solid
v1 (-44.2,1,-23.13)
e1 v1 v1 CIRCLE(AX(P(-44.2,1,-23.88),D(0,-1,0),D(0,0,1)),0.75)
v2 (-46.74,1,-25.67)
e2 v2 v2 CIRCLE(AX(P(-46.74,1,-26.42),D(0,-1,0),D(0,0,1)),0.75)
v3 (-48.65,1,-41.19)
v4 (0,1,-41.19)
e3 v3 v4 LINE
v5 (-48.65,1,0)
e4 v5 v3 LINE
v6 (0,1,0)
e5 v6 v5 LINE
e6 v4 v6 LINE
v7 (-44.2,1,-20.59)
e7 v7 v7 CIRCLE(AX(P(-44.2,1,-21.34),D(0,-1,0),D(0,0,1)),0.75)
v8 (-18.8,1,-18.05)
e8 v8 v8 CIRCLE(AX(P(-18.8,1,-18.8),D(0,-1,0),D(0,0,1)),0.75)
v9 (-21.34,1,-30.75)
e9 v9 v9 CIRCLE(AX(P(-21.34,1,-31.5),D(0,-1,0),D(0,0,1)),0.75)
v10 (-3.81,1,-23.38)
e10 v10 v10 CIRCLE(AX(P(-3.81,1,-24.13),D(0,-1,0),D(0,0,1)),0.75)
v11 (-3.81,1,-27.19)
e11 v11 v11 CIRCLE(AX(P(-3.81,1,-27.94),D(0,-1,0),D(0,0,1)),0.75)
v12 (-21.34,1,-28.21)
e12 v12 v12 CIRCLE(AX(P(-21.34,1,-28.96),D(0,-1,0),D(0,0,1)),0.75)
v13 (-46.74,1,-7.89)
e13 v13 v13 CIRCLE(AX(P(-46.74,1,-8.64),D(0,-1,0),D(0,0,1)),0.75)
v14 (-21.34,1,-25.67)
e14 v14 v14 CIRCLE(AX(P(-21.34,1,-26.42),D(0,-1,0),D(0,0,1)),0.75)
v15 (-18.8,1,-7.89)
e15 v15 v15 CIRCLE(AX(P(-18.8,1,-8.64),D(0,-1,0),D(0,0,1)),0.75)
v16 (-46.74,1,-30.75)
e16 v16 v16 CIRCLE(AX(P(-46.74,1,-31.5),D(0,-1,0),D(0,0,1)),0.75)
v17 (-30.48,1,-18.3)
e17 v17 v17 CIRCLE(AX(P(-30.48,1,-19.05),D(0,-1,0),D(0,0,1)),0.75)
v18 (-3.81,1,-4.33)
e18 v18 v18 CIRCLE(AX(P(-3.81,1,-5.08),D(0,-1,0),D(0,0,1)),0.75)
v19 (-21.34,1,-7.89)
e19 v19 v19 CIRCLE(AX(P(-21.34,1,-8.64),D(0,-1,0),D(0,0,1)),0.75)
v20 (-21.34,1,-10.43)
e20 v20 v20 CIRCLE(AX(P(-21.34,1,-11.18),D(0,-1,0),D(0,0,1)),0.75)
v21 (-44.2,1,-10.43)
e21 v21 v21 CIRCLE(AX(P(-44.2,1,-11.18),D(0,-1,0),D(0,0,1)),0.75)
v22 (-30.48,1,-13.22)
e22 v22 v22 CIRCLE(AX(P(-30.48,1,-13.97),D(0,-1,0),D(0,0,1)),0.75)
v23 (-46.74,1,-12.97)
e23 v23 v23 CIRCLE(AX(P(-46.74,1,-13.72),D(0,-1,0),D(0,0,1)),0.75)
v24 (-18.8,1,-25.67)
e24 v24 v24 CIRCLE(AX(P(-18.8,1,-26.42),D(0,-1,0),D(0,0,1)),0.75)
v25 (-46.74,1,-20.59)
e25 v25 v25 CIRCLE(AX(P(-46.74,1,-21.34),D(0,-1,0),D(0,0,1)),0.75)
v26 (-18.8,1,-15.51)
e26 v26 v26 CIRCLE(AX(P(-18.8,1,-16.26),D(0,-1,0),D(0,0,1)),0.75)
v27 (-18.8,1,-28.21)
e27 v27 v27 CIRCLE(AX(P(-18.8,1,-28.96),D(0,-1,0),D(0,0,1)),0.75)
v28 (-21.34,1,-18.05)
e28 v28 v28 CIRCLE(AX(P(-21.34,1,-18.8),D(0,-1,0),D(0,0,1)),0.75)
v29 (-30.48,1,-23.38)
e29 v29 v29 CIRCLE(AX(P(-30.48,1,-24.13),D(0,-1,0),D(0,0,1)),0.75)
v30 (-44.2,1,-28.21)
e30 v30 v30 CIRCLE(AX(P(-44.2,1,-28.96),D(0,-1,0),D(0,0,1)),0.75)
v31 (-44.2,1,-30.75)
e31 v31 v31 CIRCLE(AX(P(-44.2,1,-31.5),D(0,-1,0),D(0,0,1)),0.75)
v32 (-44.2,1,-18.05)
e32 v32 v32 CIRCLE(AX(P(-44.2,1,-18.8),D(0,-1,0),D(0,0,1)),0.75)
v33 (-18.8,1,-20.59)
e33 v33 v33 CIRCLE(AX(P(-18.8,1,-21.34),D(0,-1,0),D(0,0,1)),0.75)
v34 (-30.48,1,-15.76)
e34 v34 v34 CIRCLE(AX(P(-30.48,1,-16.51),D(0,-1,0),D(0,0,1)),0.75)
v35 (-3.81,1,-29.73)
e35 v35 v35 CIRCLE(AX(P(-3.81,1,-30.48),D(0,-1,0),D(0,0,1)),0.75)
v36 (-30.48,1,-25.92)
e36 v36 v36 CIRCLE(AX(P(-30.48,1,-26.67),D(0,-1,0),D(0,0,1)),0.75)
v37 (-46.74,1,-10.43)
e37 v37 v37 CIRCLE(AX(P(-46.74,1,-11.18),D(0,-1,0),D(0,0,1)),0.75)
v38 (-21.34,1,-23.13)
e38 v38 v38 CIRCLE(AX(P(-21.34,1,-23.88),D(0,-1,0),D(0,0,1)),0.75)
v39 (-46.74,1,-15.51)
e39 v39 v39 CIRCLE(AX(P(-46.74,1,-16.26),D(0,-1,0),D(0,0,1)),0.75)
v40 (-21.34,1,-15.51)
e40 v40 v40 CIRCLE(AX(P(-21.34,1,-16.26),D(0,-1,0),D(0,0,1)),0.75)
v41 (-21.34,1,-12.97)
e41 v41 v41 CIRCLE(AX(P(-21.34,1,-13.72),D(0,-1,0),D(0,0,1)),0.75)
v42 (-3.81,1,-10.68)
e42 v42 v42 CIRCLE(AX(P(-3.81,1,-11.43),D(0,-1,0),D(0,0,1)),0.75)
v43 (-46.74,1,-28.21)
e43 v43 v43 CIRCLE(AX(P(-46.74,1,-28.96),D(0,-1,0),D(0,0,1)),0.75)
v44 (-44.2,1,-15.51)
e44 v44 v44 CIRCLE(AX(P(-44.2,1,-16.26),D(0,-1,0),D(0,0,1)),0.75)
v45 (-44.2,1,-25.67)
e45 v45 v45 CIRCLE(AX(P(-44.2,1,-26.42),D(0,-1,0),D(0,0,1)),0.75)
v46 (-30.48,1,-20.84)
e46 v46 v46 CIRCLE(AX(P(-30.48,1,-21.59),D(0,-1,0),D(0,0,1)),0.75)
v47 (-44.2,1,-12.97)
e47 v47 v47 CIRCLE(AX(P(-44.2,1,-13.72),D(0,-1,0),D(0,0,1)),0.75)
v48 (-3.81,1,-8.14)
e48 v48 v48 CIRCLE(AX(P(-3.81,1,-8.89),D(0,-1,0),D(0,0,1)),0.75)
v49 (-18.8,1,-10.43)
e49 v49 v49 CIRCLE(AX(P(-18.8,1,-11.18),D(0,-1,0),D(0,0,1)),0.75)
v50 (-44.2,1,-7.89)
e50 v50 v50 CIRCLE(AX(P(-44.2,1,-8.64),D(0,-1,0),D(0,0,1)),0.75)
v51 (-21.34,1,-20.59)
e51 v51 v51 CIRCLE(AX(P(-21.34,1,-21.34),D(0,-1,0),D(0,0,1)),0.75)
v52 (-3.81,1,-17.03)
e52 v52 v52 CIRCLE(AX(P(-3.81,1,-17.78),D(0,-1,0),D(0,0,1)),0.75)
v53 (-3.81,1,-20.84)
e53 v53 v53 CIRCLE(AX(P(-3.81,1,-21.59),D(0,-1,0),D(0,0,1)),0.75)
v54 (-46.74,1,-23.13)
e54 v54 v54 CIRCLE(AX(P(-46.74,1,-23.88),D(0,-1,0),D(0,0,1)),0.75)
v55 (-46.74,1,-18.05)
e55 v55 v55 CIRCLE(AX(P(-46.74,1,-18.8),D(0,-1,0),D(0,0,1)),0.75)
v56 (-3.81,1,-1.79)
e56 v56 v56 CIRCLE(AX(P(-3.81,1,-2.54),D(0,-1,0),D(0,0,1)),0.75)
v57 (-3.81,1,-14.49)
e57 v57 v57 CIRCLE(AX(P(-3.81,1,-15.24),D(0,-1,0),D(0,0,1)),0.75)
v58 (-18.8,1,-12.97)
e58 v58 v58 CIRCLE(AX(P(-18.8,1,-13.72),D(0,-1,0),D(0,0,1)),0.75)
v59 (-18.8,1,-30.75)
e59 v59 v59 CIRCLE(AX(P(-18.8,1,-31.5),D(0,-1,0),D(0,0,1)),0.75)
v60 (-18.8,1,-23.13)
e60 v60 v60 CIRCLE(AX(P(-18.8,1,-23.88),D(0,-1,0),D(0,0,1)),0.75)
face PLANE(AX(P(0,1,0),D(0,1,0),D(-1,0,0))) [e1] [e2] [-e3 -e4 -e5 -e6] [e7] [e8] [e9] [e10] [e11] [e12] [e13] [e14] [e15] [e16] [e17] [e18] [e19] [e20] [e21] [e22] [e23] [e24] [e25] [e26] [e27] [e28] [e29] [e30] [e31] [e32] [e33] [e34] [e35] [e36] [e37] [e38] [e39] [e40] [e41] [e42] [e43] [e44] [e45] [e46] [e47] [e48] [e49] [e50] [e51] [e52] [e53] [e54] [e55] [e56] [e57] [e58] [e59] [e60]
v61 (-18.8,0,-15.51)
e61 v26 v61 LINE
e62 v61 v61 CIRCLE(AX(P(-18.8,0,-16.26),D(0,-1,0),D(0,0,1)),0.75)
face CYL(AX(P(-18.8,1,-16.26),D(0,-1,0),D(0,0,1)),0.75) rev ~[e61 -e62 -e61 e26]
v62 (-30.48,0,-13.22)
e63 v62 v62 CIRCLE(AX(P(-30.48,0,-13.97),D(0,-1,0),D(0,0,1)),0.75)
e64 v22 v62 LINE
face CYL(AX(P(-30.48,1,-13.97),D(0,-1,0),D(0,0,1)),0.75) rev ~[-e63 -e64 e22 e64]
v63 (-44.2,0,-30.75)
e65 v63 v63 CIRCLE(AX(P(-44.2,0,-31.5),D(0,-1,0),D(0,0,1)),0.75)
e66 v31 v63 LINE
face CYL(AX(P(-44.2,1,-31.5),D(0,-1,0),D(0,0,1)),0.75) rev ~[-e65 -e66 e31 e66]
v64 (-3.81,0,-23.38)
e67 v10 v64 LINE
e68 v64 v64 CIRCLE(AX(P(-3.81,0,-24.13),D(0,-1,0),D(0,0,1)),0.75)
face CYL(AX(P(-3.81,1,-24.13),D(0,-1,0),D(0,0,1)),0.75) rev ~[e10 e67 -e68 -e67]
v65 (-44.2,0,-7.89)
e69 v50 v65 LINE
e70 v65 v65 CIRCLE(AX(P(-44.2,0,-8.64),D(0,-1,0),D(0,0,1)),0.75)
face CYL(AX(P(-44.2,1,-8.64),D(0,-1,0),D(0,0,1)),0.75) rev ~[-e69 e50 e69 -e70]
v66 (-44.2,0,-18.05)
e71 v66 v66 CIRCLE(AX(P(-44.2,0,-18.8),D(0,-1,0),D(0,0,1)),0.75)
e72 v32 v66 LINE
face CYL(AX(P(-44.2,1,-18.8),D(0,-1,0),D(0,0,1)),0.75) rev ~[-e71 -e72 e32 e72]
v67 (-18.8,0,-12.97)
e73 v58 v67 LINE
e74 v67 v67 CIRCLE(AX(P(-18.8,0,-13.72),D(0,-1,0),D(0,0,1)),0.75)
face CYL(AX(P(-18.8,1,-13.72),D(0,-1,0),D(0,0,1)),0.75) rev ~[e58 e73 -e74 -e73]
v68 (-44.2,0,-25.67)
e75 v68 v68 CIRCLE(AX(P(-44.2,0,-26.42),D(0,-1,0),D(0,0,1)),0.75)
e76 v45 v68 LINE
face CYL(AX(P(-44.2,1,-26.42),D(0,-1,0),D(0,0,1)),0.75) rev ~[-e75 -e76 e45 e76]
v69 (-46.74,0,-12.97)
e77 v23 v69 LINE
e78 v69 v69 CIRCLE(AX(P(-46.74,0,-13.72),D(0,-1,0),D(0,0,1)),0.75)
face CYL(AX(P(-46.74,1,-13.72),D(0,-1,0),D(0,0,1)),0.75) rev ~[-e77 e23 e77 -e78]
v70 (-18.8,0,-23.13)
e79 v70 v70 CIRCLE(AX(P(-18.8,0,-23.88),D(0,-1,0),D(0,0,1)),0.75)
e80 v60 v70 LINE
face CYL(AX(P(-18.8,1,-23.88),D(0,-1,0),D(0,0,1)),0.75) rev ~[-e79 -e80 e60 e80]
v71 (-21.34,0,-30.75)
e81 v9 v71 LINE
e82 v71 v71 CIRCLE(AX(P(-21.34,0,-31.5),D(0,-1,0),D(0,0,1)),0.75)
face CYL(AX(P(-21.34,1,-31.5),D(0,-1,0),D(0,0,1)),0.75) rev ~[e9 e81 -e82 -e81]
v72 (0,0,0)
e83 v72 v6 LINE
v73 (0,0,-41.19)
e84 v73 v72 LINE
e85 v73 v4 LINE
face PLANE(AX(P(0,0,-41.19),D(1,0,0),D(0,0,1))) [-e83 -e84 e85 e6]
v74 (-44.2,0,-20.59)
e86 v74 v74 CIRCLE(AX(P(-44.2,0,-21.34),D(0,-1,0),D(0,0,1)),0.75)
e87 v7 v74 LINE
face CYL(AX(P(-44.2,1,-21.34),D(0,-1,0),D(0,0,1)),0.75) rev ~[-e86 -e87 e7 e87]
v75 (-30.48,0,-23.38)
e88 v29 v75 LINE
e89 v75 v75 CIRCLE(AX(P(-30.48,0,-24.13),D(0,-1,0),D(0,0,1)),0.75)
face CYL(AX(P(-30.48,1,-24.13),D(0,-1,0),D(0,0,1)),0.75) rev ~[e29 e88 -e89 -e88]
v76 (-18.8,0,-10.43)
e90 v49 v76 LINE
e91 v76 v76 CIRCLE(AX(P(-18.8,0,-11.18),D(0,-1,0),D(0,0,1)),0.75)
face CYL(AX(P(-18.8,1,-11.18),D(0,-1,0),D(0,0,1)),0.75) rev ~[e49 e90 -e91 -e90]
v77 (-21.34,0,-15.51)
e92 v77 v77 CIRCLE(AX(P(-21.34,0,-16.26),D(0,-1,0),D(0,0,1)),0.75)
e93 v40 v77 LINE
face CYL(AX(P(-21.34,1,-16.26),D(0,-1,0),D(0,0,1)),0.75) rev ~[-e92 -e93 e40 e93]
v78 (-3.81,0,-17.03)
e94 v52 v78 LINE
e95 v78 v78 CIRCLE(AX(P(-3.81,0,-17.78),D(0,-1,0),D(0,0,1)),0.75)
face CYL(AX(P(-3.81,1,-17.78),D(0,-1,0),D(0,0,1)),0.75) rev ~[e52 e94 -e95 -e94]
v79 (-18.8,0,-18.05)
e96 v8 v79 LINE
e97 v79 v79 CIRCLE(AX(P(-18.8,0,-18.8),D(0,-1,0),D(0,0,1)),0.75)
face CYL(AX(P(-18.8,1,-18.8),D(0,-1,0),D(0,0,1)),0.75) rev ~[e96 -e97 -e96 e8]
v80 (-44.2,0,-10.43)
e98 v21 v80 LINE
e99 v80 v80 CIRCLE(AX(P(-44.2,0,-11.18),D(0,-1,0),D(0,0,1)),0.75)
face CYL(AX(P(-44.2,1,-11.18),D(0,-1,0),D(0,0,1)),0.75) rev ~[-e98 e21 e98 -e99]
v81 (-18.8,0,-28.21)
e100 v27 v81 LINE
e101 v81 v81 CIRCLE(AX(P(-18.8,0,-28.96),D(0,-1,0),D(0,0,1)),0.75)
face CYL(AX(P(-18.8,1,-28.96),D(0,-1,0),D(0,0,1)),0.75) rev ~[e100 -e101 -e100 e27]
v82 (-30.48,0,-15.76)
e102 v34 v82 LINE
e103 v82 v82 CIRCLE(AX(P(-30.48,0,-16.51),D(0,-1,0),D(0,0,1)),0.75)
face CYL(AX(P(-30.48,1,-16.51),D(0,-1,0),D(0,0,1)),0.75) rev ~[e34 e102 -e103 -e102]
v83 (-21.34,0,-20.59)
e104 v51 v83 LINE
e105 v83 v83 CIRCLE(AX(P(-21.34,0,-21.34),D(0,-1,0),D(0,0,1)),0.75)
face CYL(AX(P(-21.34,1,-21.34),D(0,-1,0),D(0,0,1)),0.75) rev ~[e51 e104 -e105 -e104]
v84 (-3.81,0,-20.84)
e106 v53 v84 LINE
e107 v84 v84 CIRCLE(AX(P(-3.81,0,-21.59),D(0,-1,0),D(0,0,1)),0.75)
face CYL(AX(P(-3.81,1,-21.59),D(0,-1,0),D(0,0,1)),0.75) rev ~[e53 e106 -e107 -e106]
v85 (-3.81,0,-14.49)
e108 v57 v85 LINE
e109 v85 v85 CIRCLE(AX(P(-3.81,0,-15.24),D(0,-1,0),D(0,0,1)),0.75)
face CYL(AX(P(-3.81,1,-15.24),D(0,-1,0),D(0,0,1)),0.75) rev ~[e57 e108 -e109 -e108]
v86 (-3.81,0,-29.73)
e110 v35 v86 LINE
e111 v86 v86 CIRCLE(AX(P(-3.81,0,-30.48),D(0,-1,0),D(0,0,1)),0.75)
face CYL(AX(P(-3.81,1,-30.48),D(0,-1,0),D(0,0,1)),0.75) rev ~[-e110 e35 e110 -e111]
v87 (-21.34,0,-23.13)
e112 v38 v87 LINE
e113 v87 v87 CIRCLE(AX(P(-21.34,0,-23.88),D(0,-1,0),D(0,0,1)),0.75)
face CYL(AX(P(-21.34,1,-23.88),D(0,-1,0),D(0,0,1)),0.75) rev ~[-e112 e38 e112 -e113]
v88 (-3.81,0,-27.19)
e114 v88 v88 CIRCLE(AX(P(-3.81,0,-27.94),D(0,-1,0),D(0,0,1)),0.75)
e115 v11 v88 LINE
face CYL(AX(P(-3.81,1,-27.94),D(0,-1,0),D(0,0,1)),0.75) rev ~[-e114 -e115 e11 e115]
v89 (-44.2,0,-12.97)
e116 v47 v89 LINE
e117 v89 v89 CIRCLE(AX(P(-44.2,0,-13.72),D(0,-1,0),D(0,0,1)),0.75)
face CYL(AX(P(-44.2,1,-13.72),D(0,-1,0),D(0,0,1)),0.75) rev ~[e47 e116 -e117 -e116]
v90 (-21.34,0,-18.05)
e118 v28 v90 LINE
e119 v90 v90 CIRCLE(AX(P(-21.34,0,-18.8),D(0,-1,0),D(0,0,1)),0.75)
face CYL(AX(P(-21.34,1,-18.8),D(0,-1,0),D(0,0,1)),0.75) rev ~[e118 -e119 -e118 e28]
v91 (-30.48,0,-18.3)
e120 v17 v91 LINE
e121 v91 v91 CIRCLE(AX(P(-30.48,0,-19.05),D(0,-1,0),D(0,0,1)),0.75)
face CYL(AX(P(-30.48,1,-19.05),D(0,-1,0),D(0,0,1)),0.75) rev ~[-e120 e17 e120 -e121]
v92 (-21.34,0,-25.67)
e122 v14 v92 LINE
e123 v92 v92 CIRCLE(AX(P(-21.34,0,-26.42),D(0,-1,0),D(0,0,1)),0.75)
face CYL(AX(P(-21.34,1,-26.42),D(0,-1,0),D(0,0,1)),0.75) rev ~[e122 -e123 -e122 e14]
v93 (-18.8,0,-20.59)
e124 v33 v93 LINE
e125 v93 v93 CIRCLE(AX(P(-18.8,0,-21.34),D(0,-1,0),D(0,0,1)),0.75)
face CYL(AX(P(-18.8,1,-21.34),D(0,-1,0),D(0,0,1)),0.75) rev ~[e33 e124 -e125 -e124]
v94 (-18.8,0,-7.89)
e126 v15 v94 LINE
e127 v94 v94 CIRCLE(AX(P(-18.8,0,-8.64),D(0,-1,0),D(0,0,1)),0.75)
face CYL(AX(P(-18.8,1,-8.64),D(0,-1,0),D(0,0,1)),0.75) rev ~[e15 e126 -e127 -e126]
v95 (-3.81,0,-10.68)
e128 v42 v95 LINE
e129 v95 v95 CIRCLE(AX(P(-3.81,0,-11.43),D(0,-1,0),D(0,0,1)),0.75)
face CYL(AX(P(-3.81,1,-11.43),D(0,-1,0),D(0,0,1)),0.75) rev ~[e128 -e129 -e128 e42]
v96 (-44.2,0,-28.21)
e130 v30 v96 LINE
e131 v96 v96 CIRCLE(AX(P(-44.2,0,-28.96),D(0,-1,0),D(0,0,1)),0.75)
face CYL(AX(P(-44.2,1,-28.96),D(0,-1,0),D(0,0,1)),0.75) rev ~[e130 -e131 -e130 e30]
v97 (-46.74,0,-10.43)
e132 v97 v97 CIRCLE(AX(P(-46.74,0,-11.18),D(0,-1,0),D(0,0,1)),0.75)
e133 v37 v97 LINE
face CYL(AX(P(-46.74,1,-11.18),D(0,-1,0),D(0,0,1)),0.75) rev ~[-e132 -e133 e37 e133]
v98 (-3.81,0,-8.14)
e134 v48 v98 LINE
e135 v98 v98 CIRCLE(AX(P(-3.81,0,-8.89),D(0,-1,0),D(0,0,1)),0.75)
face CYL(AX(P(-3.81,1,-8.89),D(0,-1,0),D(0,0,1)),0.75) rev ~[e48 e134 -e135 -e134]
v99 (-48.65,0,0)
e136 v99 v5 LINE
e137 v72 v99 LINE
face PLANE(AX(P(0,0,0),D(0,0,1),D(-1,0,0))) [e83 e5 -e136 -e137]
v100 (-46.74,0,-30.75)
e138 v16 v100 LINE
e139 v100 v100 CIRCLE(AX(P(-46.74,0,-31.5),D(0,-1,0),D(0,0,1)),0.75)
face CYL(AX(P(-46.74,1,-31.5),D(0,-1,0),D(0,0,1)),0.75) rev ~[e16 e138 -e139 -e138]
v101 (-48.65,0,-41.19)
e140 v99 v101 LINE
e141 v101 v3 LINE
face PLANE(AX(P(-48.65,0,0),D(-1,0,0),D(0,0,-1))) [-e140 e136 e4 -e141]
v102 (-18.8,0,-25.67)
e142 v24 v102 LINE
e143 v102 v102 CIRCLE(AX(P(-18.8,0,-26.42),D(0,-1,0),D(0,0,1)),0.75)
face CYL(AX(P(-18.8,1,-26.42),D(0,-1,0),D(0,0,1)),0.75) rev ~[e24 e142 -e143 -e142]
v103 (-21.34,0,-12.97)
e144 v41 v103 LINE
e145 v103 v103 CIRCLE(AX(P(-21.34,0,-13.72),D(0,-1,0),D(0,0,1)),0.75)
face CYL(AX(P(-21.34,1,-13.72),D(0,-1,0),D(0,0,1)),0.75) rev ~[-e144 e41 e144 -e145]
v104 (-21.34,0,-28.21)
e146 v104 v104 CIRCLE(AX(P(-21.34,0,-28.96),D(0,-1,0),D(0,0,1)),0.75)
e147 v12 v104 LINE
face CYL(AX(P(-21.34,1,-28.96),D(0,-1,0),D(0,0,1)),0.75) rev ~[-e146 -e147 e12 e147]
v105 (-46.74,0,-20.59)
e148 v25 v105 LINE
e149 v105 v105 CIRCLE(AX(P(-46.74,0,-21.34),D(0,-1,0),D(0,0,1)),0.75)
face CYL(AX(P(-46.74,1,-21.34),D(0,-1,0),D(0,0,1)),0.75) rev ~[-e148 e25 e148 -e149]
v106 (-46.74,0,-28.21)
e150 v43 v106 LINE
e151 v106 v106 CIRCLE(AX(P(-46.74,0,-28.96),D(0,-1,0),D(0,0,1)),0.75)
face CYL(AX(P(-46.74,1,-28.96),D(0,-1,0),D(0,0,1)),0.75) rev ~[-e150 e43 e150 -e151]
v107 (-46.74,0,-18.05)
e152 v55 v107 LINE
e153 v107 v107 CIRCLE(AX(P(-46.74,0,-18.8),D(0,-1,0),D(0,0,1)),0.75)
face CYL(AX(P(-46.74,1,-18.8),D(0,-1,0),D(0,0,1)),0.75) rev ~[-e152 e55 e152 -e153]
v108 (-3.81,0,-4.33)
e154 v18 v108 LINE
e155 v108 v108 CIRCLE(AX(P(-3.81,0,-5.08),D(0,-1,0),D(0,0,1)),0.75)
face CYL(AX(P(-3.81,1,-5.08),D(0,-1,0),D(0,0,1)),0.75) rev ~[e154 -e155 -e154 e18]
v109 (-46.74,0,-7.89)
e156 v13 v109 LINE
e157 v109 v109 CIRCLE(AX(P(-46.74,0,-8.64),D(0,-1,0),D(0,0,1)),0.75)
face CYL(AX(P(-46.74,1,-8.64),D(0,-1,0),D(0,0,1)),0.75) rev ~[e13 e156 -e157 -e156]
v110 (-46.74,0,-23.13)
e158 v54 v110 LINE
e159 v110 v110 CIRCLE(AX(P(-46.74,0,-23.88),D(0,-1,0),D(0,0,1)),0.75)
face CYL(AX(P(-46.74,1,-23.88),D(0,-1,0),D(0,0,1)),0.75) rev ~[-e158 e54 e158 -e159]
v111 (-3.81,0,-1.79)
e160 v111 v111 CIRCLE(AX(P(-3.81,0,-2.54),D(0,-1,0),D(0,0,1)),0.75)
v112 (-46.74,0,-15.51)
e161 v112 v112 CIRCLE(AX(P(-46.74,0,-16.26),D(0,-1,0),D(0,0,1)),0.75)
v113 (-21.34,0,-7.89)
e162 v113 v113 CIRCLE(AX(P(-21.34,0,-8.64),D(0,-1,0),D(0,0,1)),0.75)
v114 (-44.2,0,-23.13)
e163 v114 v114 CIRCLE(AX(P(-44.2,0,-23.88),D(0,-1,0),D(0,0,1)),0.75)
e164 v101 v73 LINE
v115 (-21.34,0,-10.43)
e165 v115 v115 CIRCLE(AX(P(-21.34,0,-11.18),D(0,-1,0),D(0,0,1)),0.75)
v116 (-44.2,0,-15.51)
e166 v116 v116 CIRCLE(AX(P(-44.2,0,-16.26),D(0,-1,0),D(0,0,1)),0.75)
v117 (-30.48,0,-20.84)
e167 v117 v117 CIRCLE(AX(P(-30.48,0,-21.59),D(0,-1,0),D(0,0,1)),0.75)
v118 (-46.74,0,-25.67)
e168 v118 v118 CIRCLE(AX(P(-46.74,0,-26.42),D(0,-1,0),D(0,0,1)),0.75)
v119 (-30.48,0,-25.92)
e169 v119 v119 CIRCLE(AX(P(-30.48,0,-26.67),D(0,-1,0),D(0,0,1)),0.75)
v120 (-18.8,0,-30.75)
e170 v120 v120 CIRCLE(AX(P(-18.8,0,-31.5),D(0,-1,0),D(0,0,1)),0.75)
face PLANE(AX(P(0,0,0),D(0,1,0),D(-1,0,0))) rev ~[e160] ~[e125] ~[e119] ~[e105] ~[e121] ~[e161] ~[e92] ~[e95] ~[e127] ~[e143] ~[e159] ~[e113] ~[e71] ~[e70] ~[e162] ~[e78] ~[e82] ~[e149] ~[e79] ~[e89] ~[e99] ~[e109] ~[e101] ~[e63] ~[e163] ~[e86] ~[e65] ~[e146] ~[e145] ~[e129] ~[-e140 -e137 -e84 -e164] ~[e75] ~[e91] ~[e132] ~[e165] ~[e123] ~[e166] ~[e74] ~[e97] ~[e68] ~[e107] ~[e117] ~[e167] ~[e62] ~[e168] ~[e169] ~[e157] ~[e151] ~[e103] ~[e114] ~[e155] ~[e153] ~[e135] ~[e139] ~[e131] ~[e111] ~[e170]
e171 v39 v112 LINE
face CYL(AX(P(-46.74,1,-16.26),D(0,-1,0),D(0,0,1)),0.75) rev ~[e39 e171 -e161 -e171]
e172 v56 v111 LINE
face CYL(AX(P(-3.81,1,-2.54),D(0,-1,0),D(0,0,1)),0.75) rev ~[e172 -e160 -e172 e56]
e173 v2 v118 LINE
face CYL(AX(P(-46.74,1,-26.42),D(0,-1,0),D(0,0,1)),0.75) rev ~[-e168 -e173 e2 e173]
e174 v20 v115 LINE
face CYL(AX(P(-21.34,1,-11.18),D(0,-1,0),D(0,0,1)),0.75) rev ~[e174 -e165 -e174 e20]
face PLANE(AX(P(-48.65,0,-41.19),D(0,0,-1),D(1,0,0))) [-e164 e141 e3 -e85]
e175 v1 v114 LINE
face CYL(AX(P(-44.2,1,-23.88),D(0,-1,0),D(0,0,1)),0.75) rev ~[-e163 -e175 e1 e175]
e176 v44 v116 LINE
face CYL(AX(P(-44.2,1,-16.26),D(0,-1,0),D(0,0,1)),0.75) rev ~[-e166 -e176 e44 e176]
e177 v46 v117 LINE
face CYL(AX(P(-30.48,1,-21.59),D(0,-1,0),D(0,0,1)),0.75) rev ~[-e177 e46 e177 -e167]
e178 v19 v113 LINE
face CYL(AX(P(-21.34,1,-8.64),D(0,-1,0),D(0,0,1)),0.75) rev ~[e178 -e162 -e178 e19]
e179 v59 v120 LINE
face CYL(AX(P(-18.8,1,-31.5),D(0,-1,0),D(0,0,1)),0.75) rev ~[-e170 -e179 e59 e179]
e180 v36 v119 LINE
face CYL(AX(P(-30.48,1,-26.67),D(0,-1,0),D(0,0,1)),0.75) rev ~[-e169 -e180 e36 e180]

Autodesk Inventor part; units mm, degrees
ref_plane "YZ Plane" through (0, 0, 0) normal (1, 0, 0) x (0, 1, 0)
ref_plane "XZ Plane" through (0, 0, 0) normal (0, 1, 0) x (-1, 0, 0)
ref_plane "XY Plane" through (0, 0, 0) normal (0, 0, 1) x (1, 0, 0)
sketch "Sketch1" plane through (0, 0, 0) normal (0, 1, 0) x (-1, 0, 0)
  line L0 (0, 0) -> (48.65, 0)
  line L1 (48.65, 0) -> (48.65, -41.19)
  line L2 (48.65, -41.19) -> (0, -41.19)
  line L3 (0, -41.19) -> (0, 0)
  dimension "d0" = 48.65
  dimension "d1" = 41.19
extrude "Extrusion1" add sketch "Sketch1" along normal blind 1
sketch "Sketch2" plane through (0, 1, 0) normal (0, 1, 0) x (1, 0, 0)
  line L0 (0, 0) -> (-18.8, 0)
  line L1 (-48.65, 0) -> (0, 0) projected
  line L2 (-18.8, 0) -> (-18.8, 8.64)
  line L3 (0, 0) -> (-33.02, 0)
  line L4 (-30.48, 20.32) -> (-30.48, 21.59)
  line L5 (-30.48, 16.51) -> (-30.48, 13.97)
  line L6 (0, 41.19) -> (-48.65, 41.19) projected
  line L7 (0, 0) -> (0, 41.19) projected
  line L8 (-48.65, 41.19) -> (-48.65, 0) projected
  point P0 (-18.8, 11.18)
  point P1 (-18.8, 13.72)
  point P2 (-18.8, 16.26)
  point P3 (-18.8, 18.8)
  point P4 (-18.8, 21.34)
  point P5 (-18.8, 23.88)
  point P6 (-18.8, 26.42)
  point P7 (-18.8, 28.96)
  point P8 (-18.8, 31.5)
  point P9 (-21.34, 8.64)
  point P10 (-21.34, 11.18)
  point P11 (-21.34, 13.72)
  point P12 (-21.34, 16.26)
  point P13 (-21.34, 18.8)
  point P14 (-21.34, 21.34)
  point P15 (-21.34, 23.88)
  point P16 (-21.34, 26.42)
  point P17 (-21.34, 28.96)
  point P18 (-21.34, 31.5)
  point P19 (-30.48, 24.13)
  point P20 (-46.74, 8.64)
  point P21 (-46.74, 8.64)
  point P22 (-46.74, 11.18)
  point P23 (-46.74, 13.72)
  point P24 (-46.74, 16.26)
  point P25 (-46.74, 18.8)
  point P26 (-46.74, 21.34)
  point P27 (-46.74, 23.88)
  point P28 (-46.74, 26.42)
  point P29 (-46.74, 28.96)
  point P30 (-46.74, 31.5)
  point P31 (-44.2, 8.64)
  point P32 (-44.2, 11.18)
  point P33 (-44.2, 13.72)
  point P34 (-44.2, 16.26)
  point P35 (-44.2, 18.8)
  point P36 (-44.2, 21.34)
  point P37 (-44.2, 23.88)
  point P38 (-44.2, 26.42)
  point P39 (-44.2, 28.96)
  point P40 (-44.2, 31.5)
  point P41 (-30.48, 19.05)
  point P42 (-30.48, 19.05)
  point P43 (-30.48, 24.13)
  point P44 (-30.48, 26.67)
  dimension "d4" = 18.8
  dimension "d5" = 8.64
  dimension "d8" = 2.54
  dimension "d11" = 2.54
  dimension "d14" = 33.02
  dimension "d19" = 2.54
  dimension "d26" = 2.54
  dimension "d77" = 41.19
  dimension "d78" = 48.641
  dimension "d89" = 30.48
hole "Hole1" at (-18.8, 1, -8.64) at (-18.8, 1, -11.18) at (-18.8, 1, -13.72) at (-18.8, 1, -16.26) at (-18.8, 1, -18.8) at (-18.8, 1, -21.34) at (-18.8, 1, -23.88) at (-18.8, 1, -26.42) at (-18.8, 1, -28.96) at (-18.8, 1, -31.5) at (-21.34, 1, -8.64) at (-21.34, 1, -11.18) at (-21.34, 1, -13.72) at (-21.34, 1, -16.26) at (-21.34, 1, -18.8) at (-21.34, 1, -21.34) at (-21.34, 1, -23.88) at (-21.34, 1, -26.42) at (-21.34, 1, -28.96) at (-21.34, 1, -31.5) at (-30.48, 1, -21.59) at (-30.48, 1, -24.13) at (-30.48, 1, -16.51) at (-44.2, 1, -31.5) at (-44.2, 1, -28.96) at (-44.2, 1, -26.42) at (-44.2, 1, -23.88) at (-44.2, 1, -21.34) at (-44.2, 1, -18.8) at (-44.2, 1, -16.26) at (-44.2, 1, -13.72) at (-44.2, 1, -11.18) at (-44.2, 1, -8.64) at (-46.74, 1, -31.5) at (-46.74, 1, -28.96) at (-46.74, 1, -26.42) at (-46.74, 1, -23.88) at (-46.74, 1, -21.34) at (-46.74, 1, -18.8) at (-46.74, 1, -16.26) at (-46.74, 1, -13.72) at (-46.74, 1, -11.18) at (-46.74, 1, -8.64) at (-30.48, 1, -19.05) at (-30.48, 1, -26.67) at (-30.48, 1, -13.97) direction (0, -1, 0) diameter 1.5 end through all
sketch "Sketch3" plane through (0, 1, 0) normal (0, 1, 0) x (1, 0, 0)
  line L0 (-28.956, 38.735) -> (-26.924, 38.735)
  line L1 (-26.924, 38.735) -> (-26.924, 37.465)
  line L2 (-26.924, 37.465) -> (-28.956, 37.465)
  line L3 (-28.956, 37.465) -> (-28.956, 38.735)
  line L4 (-28.956, 38.735) -> (-26.924, 37.465) construction
  line L5 (-26.924, 38.735) -> (-28.956, 37.465) construction
  line L6 (-32.766, 38.735) -> (-30.734, 38.735)
  line L7 (-30.734, 38.735) -> (-30.734, 37.465)
  line L8 (-30.734, 37.465) -> (-32.766, 37.465)
  line L9 (-32.766, 37.465) -> (-32.766, 38.735)
  line L10 (-32.766, 38.735) -> (-30.734, 37.465) construction
  line L11 (-30.734, 38.735) -> (-32.766, 37.465) construction
  line L12 (-36.576, 38.735) -> (-34.544, 38.735)
  line L13 (-34.544, 38.735) -> (-34.544, 37.465)
  line L14 (-34.544, 37.465) -> (-36.576, 37.465)
  line L15 (-36.576, 37.465) -> (-36.576, 38.735)
  line L16 (-36.576, 38.735) -> (-34.544, 37.465) construction
  line L17 (-34.544, 38.735) -> (-36.576, 37.465) construction
  line L18 (-40.386, 38.735) -> (-38.354, 38.735)
  line L19 (-38.354, 38.735) -> (-38.354, 37.465)
  line L20 (-38.354, 37.465) -> (-40.386, 37.465)
  line L21 (-40.386, 37.465) -> (-40.386, 38.735)
  line L22 (-40.386, 38.735) -> (-38.354, 37.465) construction
  line L23 (-38.354, 38.735) -> (-40.386, 37.465) construction
  line L24 (-44.196, 38.735) -> (-42.164, 38.735)
  line L25 (-42.164, 38.735) -> (-42.164, 37.465)
  line L26 (-42.164, 37.465) -> (-44.196, 37.465)
  line L27 (-44.196, 37.465) -> (-44.196, 38.735)
  line L28 (-44.196, 38.735) -> (-42.164, 37.465) construction
  line L29 (-42.164, 38.735) -> (-44.196, 37.465) construction
  line L30 (0, 0) -> (0, 41.19) projected
  line L31 (-48.65, 0) -> (0, 0) projected
  point P0 (-27.94, 38.1)
  point P1 (-31.75, 38.1)
  point P2 (-35.56, 38.1)
  point P3 (-39.37, 38.1)
  point P4 (-43.18, 38.1)
  dimension "d40" = 2.032
  dimension "d41" = 1.27
  dimension "d44" = 3.81
  dimension "d88" = 27.94
  dimension "d90" = 38.1
sketch "Sketch4" plane through (0, 1, 0) normal (0, 1, 0) x (1, 0, 0)
  line L0 (-48.65, 0) -> (0, 0) projected
  line L1 (-3.81, 2.54) -> (-3.81, 5.08)
  line L2 (-3.81, 8.89) -> (-3.81, 11.43)
  line L3 (-3.81, 15.24) -> (-3.81, 17.78)
  line L4 (-3.81, 21.59) -> (-3.81, 24.13)
  line L5 (-3.81, 27.94) -> (-3.81, 30.48)
  point P0 (-3.81, 3.81)
  point P1 (-3.81, 10.16)
  point P2 (-3.81, 16.51)
  point P3 (-3.81, 10.16)
  point P4 (-3.81, 16.51)
  point P5 (-3.81, 16.51)
  point P6 (-3.81, 22.86)
  point P7 (-3.81, 22.86)
  point P8 (-3.81, 22.86)
  point P9 (-3.81, 29.21)
  point P10 (-3.81, 29.21)
  point P11 (-3.81, 29.21)
  dimension "d51" = 3.81
  dimension "d52" = 10.16
  dimension "d53" = 16.51
  dimension "d54" = 1.27
  dimension "d55" = 2.54
  dimension "d58" = 6.35
  dimension "d65" = 6.35
  dimension "d81" = 6.35
hole "Hole2" at (-3.81, 1, -2.54) at (-3.81, 1, -5.08) at (-3.81, 1, -8.89) at (-3.81, 1, -11.43) at (-3.81, 1, -17.78) at (-3.81, 1, -15.24) at (-3.81, 1, -21.59) at (-3.81, 1, -24.13) at (-3.81, 1, -27.94) at (-3.81, 1, -30.48) direction (0, -1, 0) diameter 1.5 end through all
sketch "Sketch5" plane through (0, 1, 0) normal (0, 1, 0) x (1, 0, 0)
  line L0 (-48.65, 0) -> (0, 0) projected
  line L1 (0, 0) -> (0, 41.19) projected
  point P0 (-7.239, 25.527)
  point P1 (-18.669, 36.83)
  dimension "d86" = 36.83
  dimension "d87" = 18.669
sketch "Sketch6" plane through (0, 1, 0) normal (0, 1, 0) x (1, 0, 0)
  point P0 (0, 0)
  point P1 (-7.112, 35.814)
properties part number "pcb"
